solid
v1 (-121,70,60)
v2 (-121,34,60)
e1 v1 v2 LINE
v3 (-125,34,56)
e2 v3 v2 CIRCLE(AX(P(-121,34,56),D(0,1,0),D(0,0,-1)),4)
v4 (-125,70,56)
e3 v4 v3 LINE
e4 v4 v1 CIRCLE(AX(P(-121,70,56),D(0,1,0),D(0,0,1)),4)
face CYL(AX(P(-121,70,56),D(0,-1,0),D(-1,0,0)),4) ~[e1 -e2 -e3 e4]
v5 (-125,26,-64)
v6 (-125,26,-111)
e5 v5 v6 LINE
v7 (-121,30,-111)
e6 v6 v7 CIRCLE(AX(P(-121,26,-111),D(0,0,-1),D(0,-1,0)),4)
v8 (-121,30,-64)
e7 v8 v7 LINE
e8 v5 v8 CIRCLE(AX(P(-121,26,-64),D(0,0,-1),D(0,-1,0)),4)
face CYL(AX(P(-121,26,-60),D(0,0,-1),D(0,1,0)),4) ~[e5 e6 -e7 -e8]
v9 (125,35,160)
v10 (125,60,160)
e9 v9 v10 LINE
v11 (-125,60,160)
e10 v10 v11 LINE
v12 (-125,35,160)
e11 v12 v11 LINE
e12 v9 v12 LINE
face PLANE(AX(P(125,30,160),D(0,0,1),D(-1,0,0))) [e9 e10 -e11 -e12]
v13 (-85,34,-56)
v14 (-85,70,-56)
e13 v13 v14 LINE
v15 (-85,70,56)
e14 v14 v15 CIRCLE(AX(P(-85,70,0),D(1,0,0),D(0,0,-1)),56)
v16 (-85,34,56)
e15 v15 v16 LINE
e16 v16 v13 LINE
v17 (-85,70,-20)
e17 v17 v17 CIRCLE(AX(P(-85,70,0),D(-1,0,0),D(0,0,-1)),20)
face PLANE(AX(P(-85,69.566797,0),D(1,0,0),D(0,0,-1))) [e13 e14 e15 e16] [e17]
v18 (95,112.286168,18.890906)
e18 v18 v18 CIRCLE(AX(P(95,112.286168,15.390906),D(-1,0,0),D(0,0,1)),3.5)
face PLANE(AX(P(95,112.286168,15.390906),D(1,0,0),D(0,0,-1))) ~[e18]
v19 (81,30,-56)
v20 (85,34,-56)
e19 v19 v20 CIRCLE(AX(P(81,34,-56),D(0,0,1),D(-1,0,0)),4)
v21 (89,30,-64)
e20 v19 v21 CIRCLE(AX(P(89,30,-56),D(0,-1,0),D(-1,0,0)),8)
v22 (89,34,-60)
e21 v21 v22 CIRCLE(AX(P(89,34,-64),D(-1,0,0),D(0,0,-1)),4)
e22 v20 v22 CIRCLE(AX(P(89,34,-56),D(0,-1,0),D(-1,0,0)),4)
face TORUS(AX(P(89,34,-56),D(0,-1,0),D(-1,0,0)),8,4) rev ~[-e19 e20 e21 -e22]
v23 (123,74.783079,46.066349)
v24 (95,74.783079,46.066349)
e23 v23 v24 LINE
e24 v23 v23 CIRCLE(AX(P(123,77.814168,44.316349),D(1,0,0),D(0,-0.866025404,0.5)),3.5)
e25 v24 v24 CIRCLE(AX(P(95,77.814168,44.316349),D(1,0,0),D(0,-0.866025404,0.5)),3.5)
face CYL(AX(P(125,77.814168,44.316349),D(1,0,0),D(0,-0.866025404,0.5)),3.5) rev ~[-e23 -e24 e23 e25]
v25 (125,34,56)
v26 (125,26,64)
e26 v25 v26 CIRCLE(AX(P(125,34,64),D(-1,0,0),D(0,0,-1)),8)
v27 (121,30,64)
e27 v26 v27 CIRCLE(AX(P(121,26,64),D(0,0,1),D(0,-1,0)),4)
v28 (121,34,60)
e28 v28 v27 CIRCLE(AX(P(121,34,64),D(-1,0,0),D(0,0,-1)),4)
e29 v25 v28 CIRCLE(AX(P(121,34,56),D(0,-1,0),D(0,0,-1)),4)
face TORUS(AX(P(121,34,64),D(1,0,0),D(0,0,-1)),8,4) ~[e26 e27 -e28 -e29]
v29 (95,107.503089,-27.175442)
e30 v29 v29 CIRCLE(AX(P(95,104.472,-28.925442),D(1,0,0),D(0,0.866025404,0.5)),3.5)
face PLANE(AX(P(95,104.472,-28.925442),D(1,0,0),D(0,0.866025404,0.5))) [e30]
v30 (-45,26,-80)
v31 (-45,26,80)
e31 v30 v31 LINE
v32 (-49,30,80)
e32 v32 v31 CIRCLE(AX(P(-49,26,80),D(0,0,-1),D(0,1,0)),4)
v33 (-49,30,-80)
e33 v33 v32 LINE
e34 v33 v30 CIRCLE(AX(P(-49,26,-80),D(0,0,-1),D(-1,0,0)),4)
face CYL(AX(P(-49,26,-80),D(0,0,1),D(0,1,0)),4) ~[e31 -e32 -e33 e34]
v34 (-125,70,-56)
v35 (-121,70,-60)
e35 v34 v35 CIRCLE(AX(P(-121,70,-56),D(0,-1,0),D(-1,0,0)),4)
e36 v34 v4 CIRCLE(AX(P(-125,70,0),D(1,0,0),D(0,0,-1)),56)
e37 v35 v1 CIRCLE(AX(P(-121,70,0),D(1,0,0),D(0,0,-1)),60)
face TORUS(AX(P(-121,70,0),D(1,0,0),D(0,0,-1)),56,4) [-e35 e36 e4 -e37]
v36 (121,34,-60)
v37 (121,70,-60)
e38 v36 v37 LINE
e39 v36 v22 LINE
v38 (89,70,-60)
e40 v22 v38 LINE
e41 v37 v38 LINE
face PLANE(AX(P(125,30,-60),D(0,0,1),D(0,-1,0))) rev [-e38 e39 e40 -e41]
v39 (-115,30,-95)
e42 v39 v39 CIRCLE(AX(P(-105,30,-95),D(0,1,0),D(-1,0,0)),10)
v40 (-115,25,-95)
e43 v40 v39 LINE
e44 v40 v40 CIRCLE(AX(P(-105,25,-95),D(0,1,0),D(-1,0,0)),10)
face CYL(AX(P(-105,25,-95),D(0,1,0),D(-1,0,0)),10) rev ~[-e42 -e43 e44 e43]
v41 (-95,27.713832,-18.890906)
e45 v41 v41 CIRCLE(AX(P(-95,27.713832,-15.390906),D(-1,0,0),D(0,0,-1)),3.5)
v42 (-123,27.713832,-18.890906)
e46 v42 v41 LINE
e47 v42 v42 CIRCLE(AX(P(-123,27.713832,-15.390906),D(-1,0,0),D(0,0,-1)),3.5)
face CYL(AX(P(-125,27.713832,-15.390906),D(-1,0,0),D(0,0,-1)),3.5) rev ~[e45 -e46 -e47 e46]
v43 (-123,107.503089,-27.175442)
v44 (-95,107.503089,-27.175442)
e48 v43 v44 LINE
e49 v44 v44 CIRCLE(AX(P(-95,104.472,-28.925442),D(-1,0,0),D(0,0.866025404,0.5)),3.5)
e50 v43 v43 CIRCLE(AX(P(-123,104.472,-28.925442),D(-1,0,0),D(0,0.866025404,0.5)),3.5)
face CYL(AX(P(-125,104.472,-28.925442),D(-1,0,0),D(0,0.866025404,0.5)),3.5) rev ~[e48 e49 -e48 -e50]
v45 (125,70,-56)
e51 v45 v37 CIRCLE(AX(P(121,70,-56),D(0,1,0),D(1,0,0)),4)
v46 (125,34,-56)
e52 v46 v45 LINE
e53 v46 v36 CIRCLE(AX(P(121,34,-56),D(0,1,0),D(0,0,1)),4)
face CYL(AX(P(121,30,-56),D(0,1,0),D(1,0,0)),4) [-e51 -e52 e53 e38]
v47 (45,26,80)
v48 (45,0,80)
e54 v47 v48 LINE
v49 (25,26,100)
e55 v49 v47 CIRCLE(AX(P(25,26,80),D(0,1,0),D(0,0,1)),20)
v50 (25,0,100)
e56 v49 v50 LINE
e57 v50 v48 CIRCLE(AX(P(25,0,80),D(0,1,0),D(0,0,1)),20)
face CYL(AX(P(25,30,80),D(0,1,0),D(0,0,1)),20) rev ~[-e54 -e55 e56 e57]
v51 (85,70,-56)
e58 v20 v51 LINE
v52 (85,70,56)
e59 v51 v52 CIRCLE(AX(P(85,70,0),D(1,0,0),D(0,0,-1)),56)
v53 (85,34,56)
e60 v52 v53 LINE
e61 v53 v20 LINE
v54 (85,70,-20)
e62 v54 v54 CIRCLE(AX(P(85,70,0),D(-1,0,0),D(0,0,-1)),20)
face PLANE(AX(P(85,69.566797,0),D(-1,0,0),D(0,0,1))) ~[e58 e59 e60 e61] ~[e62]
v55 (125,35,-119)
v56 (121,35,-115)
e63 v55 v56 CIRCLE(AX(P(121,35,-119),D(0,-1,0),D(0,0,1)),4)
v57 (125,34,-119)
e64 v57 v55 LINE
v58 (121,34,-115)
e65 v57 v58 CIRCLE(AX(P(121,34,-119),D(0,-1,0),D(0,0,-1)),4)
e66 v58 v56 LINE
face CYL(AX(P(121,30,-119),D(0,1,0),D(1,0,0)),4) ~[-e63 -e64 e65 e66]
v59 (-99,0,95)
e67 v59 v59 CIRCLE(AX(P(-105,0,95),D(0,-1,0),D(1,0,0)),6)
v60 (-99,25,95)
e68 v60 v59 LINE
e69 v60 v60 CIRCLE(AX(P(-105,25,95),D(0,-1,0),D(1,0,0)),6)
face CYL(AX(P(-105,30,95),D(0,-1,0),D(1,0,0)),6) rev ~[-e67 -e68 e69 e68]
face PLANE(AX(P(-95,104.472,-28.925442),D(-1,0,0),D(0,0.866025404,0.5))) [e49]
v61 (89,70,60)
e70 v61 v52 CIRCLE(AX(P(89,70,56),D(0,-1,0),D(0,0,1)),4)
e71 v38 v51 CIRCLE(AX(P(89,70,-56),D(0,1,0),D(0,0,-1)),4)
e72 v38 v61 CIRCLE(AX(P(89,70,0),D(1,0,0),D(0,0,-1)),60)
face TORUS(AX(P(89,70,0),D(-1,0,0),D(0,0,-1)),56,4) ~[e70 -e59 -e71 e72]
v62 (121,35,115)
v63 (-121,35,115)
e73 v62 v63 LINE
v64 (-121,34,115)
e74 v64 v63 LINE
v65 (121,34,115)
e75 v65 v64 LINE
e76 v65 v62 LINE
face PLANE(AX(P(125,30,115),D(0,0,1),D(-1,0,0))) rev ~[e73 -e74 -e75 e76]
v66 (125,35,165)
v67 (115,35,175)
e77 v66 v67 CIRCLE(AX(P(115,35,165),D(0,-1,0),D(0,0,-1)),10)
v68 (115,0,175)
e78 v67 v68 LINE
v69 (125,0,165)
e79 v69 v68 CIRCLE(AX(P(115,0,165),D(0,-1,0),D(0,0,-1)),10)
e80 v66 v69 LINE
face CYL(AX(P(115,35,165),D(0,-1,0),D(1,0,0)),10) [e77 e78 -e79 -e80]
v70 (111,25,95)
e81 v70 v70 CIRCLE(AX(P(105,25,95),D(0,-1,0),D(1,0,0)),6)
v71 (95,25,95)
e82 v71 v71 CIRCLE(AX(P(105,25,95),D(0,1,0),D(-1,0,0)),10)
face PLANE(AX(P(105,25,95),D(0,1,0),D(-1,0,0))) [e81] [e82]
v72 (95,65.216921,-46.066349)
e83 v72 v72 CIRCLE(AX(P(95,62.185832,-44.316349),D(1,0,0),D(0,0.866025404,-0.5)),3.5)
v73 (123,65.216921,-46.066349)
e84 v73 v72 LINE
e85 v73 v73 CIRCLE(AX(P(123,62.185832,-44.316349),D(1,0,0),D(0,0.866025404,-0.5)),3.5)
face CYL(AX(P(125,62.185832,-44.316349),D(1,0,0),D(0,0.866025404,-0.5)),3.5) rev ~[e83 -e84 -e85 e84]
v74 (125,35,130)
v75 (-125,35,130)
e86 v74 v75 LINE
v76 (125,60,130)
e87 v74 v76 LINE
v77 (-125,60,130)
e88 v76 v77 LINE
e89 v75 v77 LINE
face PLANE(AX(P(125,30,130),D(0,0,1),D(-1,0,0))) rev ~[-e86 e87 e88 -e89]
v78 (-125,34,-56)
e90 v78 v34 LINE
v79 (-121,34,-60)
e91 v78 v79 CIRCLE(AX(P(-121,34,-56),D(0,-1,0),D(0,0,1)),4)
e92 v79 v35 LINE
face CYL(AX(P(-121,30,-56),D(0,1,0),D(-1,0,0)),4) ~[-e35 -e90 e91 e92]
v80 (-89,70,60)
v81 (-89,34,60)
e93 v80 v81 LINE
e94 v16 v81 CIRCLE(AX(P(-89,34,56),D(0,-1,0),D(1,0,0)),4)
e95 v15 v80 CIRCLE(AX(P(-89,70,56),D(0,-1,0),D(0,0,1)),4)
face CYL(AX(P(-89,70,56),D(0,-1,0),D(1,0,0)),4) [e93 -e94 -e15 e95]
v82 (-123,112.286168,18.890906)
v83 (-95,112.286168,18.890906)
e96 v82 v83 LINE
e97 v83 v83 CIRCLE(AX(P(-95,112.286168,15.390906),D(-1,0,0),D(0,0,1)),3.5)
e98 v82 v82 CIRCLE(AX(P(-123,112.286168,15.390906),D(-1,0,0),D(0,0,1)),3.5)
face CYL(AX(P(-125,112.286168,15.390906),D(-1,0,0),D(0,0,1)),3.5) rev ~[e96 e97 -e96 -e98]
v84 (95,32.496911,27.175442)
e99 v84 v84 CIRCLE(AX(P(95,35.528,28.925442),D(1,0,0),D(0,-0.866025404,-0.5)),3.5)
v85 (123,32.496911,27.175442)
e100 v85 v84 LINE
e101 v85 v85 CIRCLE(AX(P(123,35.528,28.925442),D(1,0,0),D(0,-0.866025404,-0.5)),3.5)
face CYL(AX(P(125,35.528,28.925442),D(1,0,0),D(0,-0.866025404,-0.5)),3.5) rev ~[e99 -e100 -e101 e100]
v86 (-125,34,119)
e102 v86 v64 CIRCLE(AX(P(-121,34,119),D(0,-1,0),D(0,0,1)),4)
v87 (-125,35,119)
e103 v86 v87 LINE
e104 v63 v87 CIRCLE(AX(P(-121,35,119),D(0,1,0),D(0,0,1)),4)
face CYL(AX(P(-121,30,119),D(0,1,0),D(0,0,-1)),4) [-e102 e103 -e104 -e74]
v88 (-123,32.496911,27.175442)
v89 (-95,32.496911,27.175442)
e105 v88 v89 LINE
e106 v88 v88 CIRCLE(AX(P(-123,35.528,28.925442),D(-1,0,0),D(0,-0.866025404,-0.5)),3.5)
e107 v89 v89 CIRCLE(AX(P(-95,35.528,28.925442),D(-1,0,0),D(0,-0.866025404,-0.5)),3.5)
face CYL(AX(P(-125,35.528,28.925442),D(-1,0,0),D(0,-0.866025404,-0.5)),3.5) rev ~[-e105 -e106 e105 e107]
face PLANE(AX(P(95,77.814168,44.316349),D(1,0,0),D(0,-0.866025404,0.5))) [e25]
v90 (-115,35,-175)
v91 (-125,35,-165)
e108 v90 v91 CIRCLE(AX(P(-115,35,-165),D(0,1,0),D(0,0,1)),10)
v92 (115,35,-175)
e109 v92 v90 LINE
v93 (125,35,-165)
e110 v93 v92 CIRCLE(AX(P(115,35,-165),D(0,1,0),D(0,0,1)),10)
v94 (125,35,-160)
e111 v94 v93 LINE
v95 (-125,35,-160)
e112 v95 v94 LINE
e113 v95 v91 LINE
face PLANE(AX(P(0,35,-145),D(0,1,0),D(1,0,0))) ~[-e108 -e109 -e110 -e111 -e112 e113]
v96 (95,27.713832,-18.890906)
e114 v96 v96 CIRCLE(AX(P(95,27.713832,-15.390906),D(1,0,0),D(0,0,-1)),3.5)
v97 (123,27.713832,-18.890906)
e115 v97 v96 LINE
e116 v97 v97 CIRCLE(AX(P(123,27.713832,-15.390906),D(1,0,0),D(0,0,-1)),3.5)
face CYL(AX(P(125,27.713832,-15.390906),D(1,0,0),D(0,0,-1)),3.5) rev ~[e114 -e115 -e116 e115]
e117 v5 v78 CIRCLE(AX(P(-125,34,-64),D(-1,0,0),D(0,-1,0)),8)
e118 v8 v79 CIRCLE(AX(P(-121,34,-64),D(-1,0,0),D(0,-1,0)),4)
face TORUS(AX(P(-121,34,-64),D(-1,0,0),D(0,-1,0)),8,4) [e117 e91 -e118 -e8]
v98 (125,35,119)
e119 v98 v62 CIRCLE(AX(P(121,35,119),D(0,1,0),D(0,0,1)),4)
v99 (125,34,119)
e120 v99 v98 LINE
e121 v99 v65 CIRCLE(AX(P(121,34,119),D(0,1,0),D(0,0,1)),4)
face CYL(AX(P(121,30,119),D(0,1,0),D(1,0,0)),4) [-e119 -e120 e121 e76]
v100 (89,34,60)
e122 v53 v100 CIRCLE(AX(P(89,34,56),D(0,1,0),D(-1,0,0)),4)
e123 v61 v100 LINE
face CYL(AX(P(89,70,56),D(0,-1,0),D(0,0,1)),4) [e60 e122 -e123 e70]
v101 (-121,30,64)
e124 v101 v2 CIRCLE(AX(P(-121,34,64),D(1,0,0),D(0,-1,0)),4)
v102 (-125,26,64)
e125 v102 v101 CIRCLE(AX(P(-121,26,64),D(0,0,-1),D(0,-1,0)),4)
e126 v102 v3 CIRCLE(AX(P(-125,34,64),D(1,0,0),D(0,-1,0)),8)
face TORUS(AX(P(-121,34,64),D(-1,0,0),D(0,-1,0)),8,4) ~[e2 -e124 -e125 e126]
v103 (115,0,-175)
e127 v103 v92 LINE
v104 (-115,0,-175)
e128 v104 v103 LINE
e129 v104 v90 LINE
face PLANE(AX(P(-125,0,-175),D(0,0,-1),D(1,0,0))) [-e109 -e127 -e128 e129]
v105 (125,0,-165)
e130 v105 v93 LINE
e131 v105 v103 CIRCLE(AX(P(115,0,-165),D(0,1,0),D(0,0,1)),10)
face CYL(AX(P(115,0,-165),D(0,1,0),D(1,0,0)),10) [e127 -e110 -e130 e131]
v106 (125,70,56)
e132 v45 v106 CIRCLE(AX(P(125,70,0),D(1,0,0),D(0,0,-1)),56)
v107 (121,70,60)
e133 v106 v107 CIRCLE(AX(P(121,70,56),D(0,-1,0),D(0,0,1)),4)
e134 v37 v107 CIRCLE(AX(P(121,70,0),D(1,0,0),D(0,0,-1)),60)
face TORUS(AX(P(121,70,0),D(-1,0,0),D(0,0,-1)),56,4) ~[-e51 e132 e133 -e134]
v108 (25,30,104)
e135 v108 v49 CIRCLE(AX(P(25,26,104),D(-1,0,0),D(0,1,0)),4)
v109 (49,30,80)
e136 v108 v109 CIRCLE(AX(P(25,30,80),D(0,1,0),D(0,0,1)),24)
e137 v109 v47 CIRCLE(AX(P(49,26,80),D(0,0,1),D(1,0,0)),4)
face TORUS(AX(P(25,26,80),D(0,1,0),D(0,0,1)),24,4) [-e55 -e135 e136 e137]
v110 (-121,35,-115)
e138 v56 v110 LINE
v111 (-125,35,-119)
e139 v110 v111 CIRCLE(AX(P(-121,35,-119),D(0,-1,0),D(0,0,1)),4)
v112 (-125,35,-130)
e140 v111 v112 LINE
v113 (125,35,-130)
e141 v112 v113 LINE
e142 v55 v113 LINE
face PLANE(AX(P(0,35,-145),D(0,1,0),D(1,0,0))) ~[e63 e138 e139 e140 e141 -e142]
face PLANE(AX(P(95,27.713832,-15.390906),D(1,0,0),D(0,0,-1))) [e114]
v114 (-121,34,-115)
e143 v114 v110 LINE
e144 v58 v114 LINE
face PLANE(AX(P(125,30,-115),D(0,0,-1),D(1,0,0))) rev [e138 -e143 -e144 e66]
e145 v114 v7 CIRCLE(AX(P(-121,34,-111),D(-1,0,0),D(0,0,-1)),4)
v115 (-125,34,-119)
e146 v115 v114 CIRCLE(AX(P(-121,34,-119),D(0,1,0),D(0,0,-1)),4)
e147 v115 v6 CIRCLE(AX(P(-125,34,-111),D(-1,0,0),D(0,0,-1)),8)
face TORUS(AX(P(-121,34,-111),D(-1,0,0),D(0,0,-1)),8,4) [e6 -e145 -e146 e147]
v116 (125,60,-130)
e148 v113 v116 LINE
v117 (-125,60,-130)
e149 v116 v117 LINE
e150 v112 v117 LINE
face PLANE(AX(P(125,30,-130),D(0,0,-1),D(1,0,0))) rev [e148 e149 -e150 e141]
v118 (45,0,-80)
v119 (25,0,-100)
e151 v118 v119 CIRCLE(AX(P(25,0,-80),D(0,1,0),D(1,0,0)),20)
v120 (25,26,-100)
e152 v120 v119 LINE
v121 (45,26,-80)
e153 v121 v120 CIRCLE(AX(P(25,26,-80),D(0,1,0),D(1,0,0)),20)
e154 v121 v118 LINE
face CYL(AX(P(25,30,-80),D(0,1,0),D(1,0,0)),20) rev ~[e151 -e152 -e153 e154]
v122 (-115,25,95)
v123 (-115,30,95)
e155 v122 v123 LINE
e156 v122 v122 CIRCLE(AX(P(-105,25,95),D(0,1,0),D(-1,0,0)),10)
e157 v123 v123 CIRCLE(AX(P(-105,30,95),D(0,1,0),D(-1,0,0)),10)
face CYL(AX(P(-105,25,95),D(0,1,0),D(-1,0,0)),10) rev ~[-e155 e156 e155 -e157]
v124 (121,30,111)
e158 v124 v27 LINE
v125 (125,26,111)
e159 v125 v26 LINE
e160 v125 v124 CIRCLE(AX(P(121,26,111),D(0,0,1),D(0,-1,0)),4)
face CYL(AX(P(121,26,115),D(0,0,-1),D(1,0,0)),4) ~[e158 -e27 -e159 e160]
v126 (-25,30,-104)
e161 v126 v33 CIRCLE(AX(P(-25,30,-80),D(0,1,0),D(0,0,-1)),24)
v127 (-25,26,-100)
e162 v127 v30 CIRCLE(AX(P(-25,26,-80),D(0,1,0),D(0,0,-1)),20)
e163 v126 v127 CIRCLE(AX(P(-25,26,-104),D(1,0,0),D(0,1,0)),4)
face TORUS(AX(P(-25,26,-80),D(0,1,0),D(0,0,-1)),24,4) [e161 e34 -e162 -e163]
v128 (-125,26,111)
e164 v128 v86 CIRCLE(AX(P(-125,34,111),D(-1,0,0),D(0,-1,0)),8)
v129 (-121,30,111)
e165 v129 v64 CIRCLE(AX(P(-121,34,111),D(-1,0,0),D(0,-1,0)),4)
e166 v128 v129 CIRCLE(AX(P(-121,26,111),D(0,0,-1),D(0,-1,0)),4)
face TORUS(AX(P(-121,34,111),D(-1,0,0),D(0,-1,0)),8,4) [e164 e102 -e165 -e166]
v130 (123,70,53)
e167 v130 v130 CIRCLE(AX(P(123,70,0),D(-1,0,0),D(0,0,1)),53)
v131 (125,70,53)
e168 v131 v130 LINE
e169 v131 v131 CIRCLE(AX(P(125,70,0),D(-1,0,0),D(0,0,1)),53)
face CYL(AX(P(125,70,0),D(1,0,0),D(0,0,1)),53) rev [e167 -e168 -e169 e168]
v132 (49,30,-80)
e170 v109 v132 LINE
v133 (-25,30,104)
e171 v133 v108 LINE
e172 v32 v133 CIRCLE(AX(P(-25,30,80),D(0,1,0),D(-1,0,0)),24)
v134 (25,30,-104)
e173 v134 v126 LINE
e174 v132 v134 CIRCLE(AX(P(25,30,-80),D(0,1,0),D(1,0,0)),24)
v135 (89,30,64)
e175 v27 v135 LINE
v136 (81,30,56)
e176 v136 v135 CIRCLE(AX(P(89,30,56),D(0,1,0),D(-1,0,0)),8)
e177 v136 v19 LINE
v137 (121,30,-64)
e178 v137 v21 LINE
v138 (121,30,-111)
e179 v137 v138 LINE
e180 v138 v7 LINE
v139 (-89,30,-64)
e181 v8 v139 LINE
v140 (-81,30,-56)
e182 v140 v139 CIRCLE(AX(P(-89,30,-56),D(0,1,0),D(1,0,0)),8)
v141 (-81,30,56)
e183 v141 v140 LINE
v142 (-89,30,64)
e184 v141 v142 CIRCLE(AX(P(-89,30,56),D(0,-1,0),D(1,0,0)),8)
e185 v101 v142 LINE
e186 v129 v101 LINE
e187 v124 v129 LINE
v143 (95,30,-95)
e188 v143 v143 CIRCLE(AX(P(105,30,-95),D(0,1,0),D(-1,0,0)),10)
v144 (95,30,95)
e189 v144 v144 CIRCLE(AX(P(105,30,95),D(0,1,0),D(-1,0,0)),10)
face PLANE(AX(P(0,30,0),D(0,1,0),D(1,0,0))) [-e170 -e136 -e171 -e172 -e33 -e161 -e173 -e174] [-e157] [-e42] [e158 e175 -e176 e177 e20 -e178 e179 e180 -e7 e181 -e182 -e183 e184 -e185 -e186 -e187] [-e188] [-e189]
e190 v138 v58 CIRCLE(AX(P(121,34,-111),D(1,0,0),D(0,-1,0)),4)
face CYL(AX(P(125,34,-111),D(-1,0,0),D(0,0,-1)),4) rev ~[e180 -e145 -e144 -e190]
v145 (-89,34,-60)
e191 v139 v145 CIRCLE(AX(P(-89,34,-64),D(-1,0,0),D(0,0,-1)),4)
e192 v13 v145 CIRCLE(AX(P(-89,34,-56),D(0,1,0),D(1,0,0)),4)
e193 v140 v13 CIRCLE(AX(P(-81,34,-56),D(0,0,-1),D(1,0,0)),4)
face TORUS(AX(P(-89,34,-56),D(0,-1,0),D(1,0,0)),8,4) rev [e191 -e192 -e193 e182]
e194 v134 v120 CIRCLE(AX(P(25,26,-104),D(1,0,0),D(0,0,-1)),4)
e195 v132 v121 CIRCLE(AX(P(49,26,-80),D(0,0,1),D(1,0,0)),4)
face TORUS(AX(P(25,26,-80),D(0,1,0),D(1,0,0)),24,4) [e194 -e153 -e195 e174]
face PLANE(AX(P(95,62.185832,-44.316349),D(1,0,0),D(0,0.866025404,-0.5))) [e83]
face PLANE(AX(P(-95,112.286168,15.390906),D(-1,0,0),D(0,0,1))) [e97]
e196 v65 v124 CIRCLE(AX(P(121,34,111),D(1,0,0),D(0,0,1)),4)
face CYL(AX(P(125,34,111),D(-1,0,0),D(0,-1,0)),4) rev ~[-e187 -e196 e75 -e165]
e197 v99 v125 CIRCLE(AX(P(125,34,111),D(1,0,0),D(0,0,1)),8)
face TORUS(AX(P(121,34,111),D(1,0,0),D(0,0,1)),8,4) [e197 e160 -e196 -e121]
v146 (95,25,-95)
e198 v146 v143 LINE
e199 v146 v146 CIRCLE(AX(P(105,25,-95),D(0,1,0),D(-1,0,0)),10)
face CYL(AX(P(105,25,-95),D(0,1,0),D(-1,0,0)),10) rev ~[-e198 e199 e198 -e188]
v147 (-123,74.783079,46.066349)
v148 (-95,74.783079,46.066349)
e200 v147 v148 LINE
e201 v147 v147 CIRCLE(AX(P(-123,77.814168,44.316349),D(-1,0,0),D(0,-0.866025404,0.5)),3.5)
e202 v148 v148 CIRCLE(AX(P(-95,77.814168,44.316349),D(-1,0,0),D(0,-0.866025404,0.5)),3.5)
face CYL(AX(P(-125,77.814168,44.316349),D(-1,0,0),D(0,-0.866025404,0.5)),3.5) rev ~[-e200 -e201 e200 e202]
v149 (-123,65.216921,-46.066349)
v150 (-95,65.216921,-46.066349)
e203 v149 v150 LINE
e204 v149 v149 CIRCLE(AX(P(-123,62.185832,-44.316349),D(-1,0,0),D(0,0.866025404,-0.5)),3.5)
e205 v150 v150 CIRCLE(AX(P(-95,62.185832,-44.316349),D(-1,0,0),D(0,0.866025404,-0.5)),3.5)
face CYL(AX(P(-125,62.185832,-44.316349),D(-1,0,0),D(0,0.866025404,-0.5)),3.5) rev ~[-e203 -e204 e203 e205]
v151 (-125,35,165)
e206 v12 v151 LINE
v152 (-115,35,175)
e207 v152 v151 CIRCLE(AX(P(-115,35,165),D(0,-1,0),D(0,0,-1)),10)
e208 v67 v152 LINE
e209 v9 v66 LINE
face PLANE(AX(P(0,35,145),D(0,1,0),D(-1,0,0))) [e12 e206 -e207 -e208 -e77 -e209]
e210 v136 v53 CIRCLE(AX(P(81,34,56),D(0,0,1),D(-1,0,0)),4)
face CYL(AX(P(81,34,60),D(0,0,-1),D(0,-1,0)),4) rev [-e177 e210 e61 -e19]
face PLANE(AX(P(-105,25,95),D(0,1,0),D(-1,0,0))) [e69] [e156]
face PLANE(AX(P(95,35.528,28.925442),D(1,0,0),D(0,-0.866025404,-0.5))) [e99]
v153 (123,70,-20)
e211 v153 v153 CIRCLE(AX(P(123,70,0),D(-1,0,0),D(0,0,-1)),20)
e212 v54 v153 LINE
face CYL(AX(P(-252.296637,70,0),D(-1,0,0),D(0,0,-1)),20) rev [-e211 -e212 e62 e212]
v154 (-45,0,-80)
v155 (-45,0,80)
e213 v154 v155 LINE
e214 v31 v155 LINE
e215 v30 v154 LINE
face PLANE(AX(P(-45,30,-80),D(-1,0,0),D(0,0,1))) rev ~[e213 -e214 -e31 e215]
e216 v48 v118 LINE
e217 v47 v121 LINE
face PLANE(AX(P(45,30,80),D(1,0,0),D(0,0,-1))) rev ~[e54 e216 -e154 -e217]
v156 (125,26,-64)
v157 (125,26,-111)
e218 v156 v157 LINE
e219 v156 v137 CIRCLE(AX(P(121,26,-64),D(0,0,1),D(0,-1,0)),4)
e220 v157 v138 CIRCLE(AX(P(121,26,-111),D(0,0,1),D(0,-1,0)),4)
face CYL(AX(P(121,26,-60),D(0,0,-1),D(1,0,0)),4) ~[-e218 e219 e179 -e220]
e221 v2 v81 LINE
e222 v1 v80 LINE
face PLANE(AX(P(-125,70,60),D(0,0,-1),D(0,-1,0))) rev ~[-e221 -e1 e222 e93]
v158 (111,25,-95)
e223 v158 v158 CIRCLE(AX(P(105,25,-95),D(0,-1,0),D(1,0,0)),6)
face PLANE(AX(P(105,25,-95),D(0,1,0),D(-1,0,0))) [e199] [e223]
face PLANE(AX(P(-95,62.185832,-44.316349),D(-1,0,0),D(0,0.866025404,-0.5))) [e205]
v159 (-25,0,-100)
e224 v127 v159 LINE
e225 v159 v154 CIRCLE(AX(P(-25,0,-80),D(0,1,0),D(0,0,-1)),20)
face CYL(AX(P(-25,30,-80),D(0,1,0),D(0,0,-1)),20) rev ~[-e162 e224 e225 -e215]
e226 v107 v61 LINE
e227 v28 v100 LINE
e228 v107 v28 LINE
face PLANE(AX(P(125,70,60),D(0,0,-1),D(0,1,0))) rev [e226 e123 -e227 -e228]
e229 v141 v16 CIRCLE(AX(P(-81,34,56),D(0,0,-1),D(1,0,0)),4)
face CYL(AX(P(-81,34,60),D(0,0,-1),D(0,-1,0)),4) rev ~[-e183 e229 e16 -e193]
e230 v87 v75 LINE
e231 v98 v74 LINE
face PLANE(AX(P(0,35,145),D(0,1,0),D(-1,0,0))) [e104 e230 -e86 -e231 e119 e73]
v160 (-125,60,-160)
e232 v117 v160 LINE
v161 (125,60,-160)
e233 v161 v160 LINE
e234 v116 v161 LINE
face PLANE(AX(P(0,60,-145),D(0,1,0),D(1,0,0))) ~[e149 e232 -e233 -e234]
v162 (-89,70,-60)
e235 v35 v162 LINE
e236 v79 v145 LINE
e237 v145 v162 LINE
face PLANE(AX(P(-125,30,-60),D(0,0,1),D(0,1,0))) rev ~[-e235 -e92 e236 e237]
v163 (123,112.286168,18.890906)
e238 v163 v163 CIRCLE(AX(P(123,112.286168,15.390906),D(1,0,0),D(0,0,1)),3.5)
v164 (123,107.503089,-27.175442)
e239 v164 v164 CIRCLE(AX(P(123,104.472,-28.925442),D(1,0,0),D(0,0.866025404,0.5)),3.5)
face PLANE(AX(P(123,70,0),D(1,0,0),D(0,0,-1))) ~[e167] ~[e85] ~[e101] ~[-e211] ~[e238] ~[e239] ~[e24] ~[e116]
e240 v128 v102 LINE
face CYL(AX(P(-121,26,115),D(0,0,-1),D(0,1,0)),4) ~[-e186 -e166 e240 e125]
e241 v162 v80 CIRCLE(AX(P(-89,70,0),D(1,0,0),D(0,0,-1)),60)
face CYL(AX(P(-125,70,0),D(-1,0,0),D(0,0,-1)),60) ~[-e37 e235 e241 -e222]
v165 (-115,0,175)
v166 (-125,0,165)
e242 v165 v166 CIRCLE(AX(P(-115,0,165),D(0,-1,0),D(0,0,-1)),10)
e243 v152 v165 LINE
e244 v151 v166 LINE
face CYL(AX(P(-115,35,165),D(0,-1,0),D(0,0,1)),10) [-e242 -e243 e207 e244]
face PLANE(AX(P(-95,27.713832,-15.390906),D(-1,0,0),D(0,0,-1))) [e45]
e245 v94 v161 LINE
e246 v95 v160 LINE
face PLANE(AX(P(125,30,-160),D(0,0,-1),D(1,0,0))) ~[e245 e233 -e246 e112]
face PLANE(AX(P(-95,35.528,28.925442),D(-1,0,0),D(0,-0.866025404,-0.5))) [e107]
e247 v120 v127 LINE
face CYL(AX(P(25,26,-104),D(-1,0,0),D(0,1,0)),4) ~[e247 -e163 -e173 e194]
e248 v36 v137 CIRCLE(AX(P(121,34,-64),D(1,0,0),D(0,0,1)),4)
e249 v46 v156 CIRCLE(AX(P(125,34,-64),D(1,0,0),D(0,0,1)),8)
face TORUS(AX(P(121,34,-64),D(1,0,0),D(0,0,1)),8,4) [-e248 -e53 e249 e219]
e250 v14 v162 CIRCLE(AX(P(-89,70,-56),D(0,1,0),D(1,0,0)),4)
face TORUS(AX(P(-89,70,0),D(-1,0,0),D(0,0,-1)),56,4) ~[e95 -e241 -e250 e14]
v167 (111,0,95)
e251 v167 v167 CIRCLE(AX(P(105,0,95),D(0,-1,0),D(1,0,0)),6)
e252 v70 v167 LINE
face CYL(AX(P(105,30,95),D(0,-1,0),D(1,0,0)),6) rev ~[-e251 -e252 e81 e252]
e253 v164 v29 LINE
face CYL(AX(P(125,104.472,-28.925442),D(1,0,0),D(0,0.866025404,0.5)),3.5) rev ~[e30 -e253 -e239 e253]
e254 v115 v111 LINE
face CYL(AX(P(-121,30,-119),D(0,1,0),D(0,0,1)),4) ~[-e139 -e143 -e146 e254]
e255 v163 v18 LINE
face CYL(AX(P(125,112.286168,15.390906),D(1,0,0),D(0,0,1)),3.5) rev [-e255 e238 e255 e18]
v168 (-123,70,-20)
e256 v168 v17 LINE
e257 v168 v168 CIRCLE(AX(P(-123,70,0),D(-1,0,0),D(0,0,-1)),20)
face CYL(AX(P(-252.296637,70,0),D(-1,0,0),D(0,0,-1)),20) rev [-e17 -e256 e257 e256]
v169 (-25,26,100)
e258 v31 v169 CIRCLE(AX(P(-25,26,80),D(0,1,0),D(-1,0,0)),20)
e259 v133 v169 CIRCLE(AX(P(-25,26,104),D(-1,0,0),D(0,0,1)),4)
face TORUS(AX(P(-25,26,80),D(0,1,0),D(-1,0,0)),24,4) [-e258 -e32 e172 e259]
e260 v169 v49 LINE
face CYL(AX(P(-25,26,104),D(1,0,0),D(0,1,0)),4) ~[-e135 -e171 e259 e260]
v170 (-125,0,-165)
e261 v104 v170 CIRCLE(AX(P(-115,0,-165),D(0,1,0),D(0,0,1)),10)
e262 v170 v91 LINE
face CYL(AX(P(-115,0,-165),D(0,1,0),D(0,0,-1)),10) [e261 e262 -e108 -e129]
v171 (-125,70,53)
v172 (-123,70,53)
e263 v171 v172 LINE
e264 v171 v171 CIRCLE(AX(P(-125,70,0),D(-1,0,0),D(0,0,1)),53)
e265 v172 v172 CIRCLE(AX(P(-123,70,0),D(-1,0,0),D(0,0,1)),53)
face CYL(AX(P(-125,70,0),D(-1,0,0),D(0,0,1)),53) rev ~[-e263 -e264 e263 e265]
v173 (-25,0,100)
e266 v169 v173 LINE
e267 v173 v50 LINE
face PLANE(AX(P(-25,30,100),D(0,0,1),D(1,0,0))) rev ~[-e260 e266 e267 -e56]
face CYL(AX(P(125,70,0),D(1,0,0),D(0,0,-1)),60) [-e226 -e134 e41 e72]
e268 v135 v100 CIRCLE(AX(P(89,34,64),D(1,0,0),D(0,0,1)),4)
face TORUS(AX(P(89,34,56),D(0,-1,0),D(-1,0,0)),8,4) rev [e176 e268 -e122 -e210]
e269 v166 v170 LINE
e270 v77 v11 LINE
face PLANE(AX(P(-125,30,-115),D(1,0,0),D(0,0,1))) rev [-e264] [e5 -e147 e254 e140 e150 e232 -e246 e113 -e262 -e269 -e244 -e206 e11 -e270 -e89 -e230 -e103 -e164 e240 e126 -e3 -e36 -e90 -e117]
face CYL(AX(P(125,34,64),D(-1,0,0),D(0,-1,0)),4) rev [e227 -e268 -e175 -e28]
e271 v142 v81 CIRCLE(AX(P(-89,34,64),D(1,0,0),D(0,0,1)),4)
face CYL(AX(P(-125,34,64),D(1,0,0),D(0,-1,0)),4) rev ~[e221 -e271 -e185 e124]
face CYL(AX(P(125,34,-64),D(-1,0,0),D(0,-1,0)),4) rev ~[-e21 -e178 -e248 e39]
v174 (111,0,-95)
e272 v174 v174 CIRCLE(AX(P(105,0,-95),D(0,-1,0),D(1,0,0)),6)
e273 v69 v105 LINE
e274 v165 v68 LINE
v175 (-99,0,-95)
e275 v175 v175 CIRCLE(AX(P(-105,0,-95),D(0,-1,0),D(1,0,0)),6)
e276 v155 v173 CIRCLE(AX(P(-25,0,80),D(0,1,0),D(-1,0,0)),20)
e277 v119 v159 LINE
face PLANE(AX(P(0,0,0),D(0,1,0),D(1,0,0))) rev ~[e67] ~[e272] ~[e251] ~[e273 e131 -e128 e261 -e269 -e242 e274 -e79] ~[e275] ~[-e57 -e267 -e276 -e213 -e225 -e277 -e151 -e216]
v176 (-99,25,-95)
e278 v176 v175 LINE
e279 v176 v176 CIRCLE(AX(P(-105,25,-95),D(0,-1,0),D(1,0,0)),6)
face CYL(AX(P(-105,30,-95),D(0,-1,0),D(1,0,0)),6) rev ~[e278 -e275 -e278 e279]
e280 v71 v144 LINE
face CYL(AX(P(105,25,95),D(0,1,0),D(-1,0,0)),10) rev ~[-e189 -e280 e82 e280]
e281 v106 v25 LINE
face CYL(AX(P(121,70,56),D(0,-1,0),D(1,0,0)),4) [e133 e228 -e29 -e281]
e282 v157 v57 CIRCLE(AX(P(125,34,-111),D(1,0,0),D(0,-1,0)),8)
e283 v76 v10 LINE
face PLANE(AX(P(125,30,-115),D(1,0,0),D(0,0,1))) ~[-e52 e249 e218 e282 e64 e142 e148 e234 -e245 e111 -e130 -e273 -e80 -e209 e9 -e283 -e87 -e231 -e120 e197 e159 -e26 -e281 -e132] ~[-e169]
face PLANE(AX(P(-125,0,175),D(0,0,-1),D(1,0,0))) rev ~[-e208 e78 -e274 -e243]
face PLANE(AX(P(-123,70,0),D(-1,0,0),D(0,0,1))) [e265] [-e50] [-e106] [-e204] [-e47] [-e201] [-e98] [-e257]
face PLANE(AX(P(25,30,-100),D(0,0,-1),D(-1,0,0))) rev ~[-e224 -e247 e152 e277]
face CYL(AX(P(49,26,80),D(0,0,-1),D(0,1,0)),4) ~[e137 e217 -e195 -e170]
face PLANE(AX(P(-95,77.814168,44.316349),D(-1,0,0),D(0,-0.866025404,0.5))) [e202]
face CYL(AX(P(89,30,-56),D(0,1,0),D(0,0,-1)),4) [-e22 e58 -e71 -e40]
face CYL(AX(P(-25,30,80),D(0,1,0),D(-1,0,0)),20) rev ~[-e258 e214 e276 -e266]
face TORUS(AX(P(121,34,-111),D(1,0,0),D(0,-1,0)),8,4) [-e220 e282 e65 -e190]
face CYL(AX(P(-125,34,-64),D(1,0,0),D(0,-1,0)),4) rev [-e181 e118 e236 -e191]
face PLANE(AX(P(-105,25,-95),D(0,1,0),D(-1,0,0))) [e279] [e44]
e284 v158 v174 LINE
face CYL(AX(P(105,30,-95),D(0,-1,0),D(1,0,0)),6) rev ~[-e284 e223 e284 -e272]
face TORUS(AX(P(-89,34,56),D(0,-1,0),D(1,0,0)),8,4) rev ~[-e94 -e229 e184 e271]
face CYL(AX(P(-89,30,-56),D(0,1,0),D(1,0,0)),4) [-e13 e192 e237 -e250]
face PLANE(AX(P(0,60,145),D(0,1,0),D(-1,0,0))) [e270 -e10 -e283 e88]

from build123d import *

# Parameters (mm, degrees)
SKETCH1_W               = 250
SKETCH1_H               = 350
EXTRUDE1_DEPTH          = 30
CUT_EXTRUDE10_DEPTH     = 100
SKETCH2_W               = 250
SKETCH2_H               = 30
EXTRUDE2_DEPTH          = 30
SKETCH7_W               = 250
SKETCH7_H               = 60
EXTRUDE6_DEPTH          = 5
EXTRUDE3_DEPTH          = 40
SKETCH11_R              = 53
CUT_EXTRUDE7_DEPTH      = 2
SKETCH10_R              = 3.5
CUT_EXTRUDE6_DEPTH      = 30
CIRPATTERN1_COUNT       = 6
MIRROR2_COPY_1_SKETCH_R = 3.5
MIRROR2_COPY_1_DEPTH    = 30
MIRROR2_COPY_2_SKETCH_R = 3.5
MIRROR2_COPY_2_DEPTH    = 30
MIRROR2_COPY_3_SKETCH_R = 3.5
MIRROR2_COPY_3_DEPTH    = 30
MIRROR2_COPY_4_SKETCH_R = 3.5
MIRROR2_COPY_4_DEPTH    = 30
MIRROR2_COPY_5_SKETCH_R = 3.5
MIRROR2_COPY_5_DEPTH    = 30
CUT_EXTRUDE1_DEPTH      = 252.296637463
CUT_EXTRUDE1_DEPTH_BACK = 252.296637463
SKETCH6_R               = 20
HOLE2_D                 = 12
HOLE2_CBORE_D           = 20
HOLE2_CBORE_DEPTH       = 5
LPATTERN1_COUNT         = 2
LPATTERN1_PITCH         = 190
LPATTERN1_COUNT_DIR2    = 2
LPATTERN1_PITCH_DIR2    = 210
FILLET1_R               = 4
FILLET2_R               = 10


with BuildPart() as part:
    # Sketch1 → Extrude1 (new body)
    with BuildSketch(Plane(origin=(0, 0, 0), x_dir=(1, 0, 0), z_dir=(0, 1, 0))):
        Rectangle(SKETCH1_W, SKETCH1_H)
    extrude(amount=EXTRUDE1_DEPTH)

    # Sketch21 → Cut-Extrude10 (cut)
    with BuildSketch(Plane(origin=(0, 30, 0), x_dir=(-1, 0, 0), z_dir=(0, 1, 0))):
        with BuildLine():
            Line((-25, -100), (25, -100))
            ThreePointArc((25, -100), (39.142135624, -94.142135624), (45, -80))
            Line((45, -80), (45, 80))
            ThreePointArc((45, 80), (39.142135624, 94.142135624), (25, 100))
            Line((25, 100), (-25, 100))
            ThreePointArc((-25, 100), (-39.142135624, 94.142135624), (-45, 80))
            Line((-45, 80), (-45, -80))
            ThreePointArc((-45, -80), (-39.142135624, -94.142135624), (-25, -100))
        make_face()
    extrude(amount=-CUT_EXTRUDE10_DEPTH, mode=Mode.SUBTRACT)

    # Sketch2 → Extrude2 (add)
    with BuildSketch(Plane(origin=(0, 30, 0), x_dir=(-1, 0, 0), z_dir=(0, 1, 0))):
        with Locations((0, 145)):
            Rectangle(SKETCH2_W, SKETCH2_H)
    extrude2 = extrude(amount=EXTRUDE2_DEPTH)

    # Sketch7 → Extrude6 (add)
    with BuildSketch(Plane(origin=(0, 30, 0), x_dir=(-1, 0, 0), z_dir=(0, 1, 0))):
        with Locations((0, 145)):
            Rectangle(SKETCH7_W, SKETCH7_H)
    extrude6 = extrude(amount=EXTRUDE6_DEPTH)

    # Mirror1: Extrude2, Extrude6 across plane
    add(extrude2.mirror(Plane.XY))
    add(extrude6.mirror(Plane.XY))

    # Sketch3 → Extrude3 (add)
    with BuildSketch(Plane(origin=(-125, 0, 0), x_dir=(0, 0, -1), z_dir=(1, 0, 0))):
        with BuildLine():
            Line((-60, 70), (-60, 30))
            Line((-60, 30), (60, 30))
            Line((60, 30), (60, 70))
            ThreePointArc((60, 70), (0, 130), (-60, 70))
        make_face()
    extrude3 = extrude(amount=EXTRUDE3_DEPTH)

    # Sketch11 → Cut-Extrude7 (cut)
    with BuildSketch(Plane.ZY.offset(125)):
        with Locations((0, 70)):
            Circle(SKETCH11_R)
    cut_extrude7 = extrude(amount=-CUT_EXTRUDE7_DEPTH, mode=Mode.SUBTRACT)

    # Sketch10 → Cut-Extrude6 (cut)
    with BuildSketch(Plane.ZY.offset(125)):
        with Locations((15.39090645, 112.286167935)):
            Circle(SKETCH10_R)
    cut_extrude6 = extrude(amount=-CUT_EXTRUDE6_DEPTH, mode=Mode.SUBTRACT)

    # CirPattern1: Cut-Extrude6 ×6 about axis
    cirpattern1_axis = Axis((0, 70, 0), (1, 0, 0))
    for i in range(1, CIRPATTERN1_COUNT):
        add(cut_extrude6.rotate(cirpattern1_axis, i * 360 / CIRPATTERN1_COUNT), mode=Mode.SUBTRACT)

    # Mirror2: Extrude3, Cut-Extrude7, Cut-Extrude6 across plane
    add(extrude3.mirror(Plane(origin=(0, 0, 0), x_dir=(0, 0, 1), z_dir=(1, 0, 0))))
    add(cut_extrude7.mirror(Plane(origin=(0, 0, 0), x_dir=(0, 0, 1), z_dir=(1, 0, 0))), mode=Mode.SUBTRACT)
    add(cut_extrude6.mirror(Plane(origin=(0, 0, 0), x_dir=(0, 0, 1), z_dir=(1, 0, 0))), mode=Mode.SUBTRACT)

    # Mirror2 copy 1 sketch → Mirror2 copy 1 (cut)
    with BuildSketch(Plane(origin=(125, 35, -60.621778265), x_dir=(0, -0.8660254037844386, 0.5000000000000001), z_dir=(1, 0, 0))):
        with Locations((15.39090645, -112.286167935)):
            Circle(MIRROR2_COPY_1_SKETCH_R)
    extrude(amount=-MIRROR2_COPY_1_DEPTH, mode=Mode.SUBTRACT)

    # Mirror2 copy 2 sketch → Mirror2 copy 2 (cut)
    with BuildSketch(Plane(origin=(125, 105, -60.621778265), x_dir=(0, -0.8660254037844387, -0.4999999999999998), z_dir=(1, 0, 0))):
        with Locations((15.39090645, -112.286167935)):
            Circle(MIRROR2_COPY_2_SKETCH_R)
    extrude(amount=-MIRROR2_COPY_2_DEPTH, mode=Mode.SUBTRACT)

    # Mirror2 copy 3 sketch → Mirror2 copy 3 (cut)
    with BuildSketch(Plane(origin=(125, 140, 0), x_dir=(0, 0, -1), z_dir=(1, 0, 0))):
        with Locations((15.39090645, -112.286167935)):
            Circle(MIRROR2_COPY_3_SKETCH_R)
    extrude(amount=-MIRROR2_COPY_3_DEPTH, mode=Mode.SUBTRACT)

    # Mirror2 copy 4 sketch → Mirror2 copy 4 (cut)
    with BuildSketch(Plane(origin=(125, 105, 60.621778265), x_dir=(0, 0.8660254037844384, -0.5000000000000004), z_dir=(1, 0, 0))):
        with Locations((15.39090645, -112.286167935)):
            Circle(MIRROR2_COPY_4_SKETCH_R)
    extrude(amount=-MIRROR2_COPY_4_DEPTH, mode=Mode.SUBTRACT)

    # Mirror2 copy 5 sketch → Mirror2 copy 5 (cut)
    with BuildSketch(Plane(origin=(125, 35, 60.621778265), x_dir=(0, 0.8660254037844386, 0.5000000000000001), z_dir=(1, 0, 0))):
        with Locations((15.39090645, -112.286167935)):
            Circle(MIRROR2_COPY_5_SKETCH_R)
    extrude(amount=-MIRROR2_COPY_5_DEPTH, mode=Mode.SUBTRACT)

    # Sketch6 → Cut-Extrude1 (cut, two sides: drawn at the far end of the back side and taken through both)
    with BuildSketch(Plane(origin=(0, 0, 0), x_dir=(0, 0, -1), z_dir=(1, 0, 0)).offset(-CUT_EXTRUDE1_DEPTH_BACK)):
        with Locations((0, 70)):
            Circle(SKETCH6_R)
    extrude(amount=CUT_EXTRUDE1_DEPTH + CUT_EXTRUDE1_DEPTH_BACK, mode=Mode.SUBTRACT)

    # Hole2 (through all)
    with Locations(Plane(origin=(0, 30, 0), x_dir=(-1, 0, 0), z_dir=(0, 1, 0))):
        with Locations((-105, -95)):
            hole2 = CounterBoreHole(HOLE2_D / 2, HOLE2_CBORE_D / 2, HOLE2_CBORE_DEPTH)

    # LPattern1: Hole2 2 × 2
    with Locations(*[(-j * LPATTERN1_PITCH_DIR2, 0, i * LPATTERN1_PITCH) for i in range(LPATTERN1_COUNT) for j in range(LPATTERN1_COUNT_DIR2) if (i, j) != (0, 0)]):
        add(hole2, mode=Mode.SUBTRACT)

    # Fillet1
    fillet1_edges = [part.edges().sort_by_distance(p)[0] for p in [
        (-125, 30, -87.5),
        (125, 32.5, -115),
        (0, 30, -115),
        (-125, 32.5, -115),
        (-125, 30, 87.5),
        (-125, 130, 0),
        (-125, 50, 60),
        (-105, 30, 60),
        (-125, 50, -60),
        (-105, 30, -60),
        (-85, 130, 0),
        (-85, 50, 60),
        (-85, 30, 0),
        (-85, 50, -60),
        (125, 30, -87.5),
        (85, 130, 0),
        (85, 50, -60),
        (85, 30, 0),
        (105, 30, -60),
        (85, 50, 60),
        (105, 30, 60),
        (125, 130, 0),
        (125, 50, 60),
        (125, 50, -60),
        (39.142135624, 30, -94.142135624),
        (0, 30, -100),
        (-39.142135624, 30, -94.142135624),
        (-45, 30, 0),
        (-39.142135624, 30, 94.142135624),
        (0, 30, 100),
        (39.142135624, 30, 94.142135624),
        (45, 30, 0),
        (125, 30, 87.5),
        (-125, 32.5, 115),
        (0, 30, 115),
        (125, 32.5, 115),
    ]]
    fillet(fillet1_edges, radius=FILLET1_R)

    # Fillet2
    fillet2_edges = [part.edges().sort_by_distance(p)[0] for p in [
        (-125, 17.5, -175),
        (125, 17.5, -175),
        (125, 17.5, 175),
        (-125, 17.5, 175),
    ]]
    fillet(fillet2_edges, radius=FILLET2_R)


solid = part.part
